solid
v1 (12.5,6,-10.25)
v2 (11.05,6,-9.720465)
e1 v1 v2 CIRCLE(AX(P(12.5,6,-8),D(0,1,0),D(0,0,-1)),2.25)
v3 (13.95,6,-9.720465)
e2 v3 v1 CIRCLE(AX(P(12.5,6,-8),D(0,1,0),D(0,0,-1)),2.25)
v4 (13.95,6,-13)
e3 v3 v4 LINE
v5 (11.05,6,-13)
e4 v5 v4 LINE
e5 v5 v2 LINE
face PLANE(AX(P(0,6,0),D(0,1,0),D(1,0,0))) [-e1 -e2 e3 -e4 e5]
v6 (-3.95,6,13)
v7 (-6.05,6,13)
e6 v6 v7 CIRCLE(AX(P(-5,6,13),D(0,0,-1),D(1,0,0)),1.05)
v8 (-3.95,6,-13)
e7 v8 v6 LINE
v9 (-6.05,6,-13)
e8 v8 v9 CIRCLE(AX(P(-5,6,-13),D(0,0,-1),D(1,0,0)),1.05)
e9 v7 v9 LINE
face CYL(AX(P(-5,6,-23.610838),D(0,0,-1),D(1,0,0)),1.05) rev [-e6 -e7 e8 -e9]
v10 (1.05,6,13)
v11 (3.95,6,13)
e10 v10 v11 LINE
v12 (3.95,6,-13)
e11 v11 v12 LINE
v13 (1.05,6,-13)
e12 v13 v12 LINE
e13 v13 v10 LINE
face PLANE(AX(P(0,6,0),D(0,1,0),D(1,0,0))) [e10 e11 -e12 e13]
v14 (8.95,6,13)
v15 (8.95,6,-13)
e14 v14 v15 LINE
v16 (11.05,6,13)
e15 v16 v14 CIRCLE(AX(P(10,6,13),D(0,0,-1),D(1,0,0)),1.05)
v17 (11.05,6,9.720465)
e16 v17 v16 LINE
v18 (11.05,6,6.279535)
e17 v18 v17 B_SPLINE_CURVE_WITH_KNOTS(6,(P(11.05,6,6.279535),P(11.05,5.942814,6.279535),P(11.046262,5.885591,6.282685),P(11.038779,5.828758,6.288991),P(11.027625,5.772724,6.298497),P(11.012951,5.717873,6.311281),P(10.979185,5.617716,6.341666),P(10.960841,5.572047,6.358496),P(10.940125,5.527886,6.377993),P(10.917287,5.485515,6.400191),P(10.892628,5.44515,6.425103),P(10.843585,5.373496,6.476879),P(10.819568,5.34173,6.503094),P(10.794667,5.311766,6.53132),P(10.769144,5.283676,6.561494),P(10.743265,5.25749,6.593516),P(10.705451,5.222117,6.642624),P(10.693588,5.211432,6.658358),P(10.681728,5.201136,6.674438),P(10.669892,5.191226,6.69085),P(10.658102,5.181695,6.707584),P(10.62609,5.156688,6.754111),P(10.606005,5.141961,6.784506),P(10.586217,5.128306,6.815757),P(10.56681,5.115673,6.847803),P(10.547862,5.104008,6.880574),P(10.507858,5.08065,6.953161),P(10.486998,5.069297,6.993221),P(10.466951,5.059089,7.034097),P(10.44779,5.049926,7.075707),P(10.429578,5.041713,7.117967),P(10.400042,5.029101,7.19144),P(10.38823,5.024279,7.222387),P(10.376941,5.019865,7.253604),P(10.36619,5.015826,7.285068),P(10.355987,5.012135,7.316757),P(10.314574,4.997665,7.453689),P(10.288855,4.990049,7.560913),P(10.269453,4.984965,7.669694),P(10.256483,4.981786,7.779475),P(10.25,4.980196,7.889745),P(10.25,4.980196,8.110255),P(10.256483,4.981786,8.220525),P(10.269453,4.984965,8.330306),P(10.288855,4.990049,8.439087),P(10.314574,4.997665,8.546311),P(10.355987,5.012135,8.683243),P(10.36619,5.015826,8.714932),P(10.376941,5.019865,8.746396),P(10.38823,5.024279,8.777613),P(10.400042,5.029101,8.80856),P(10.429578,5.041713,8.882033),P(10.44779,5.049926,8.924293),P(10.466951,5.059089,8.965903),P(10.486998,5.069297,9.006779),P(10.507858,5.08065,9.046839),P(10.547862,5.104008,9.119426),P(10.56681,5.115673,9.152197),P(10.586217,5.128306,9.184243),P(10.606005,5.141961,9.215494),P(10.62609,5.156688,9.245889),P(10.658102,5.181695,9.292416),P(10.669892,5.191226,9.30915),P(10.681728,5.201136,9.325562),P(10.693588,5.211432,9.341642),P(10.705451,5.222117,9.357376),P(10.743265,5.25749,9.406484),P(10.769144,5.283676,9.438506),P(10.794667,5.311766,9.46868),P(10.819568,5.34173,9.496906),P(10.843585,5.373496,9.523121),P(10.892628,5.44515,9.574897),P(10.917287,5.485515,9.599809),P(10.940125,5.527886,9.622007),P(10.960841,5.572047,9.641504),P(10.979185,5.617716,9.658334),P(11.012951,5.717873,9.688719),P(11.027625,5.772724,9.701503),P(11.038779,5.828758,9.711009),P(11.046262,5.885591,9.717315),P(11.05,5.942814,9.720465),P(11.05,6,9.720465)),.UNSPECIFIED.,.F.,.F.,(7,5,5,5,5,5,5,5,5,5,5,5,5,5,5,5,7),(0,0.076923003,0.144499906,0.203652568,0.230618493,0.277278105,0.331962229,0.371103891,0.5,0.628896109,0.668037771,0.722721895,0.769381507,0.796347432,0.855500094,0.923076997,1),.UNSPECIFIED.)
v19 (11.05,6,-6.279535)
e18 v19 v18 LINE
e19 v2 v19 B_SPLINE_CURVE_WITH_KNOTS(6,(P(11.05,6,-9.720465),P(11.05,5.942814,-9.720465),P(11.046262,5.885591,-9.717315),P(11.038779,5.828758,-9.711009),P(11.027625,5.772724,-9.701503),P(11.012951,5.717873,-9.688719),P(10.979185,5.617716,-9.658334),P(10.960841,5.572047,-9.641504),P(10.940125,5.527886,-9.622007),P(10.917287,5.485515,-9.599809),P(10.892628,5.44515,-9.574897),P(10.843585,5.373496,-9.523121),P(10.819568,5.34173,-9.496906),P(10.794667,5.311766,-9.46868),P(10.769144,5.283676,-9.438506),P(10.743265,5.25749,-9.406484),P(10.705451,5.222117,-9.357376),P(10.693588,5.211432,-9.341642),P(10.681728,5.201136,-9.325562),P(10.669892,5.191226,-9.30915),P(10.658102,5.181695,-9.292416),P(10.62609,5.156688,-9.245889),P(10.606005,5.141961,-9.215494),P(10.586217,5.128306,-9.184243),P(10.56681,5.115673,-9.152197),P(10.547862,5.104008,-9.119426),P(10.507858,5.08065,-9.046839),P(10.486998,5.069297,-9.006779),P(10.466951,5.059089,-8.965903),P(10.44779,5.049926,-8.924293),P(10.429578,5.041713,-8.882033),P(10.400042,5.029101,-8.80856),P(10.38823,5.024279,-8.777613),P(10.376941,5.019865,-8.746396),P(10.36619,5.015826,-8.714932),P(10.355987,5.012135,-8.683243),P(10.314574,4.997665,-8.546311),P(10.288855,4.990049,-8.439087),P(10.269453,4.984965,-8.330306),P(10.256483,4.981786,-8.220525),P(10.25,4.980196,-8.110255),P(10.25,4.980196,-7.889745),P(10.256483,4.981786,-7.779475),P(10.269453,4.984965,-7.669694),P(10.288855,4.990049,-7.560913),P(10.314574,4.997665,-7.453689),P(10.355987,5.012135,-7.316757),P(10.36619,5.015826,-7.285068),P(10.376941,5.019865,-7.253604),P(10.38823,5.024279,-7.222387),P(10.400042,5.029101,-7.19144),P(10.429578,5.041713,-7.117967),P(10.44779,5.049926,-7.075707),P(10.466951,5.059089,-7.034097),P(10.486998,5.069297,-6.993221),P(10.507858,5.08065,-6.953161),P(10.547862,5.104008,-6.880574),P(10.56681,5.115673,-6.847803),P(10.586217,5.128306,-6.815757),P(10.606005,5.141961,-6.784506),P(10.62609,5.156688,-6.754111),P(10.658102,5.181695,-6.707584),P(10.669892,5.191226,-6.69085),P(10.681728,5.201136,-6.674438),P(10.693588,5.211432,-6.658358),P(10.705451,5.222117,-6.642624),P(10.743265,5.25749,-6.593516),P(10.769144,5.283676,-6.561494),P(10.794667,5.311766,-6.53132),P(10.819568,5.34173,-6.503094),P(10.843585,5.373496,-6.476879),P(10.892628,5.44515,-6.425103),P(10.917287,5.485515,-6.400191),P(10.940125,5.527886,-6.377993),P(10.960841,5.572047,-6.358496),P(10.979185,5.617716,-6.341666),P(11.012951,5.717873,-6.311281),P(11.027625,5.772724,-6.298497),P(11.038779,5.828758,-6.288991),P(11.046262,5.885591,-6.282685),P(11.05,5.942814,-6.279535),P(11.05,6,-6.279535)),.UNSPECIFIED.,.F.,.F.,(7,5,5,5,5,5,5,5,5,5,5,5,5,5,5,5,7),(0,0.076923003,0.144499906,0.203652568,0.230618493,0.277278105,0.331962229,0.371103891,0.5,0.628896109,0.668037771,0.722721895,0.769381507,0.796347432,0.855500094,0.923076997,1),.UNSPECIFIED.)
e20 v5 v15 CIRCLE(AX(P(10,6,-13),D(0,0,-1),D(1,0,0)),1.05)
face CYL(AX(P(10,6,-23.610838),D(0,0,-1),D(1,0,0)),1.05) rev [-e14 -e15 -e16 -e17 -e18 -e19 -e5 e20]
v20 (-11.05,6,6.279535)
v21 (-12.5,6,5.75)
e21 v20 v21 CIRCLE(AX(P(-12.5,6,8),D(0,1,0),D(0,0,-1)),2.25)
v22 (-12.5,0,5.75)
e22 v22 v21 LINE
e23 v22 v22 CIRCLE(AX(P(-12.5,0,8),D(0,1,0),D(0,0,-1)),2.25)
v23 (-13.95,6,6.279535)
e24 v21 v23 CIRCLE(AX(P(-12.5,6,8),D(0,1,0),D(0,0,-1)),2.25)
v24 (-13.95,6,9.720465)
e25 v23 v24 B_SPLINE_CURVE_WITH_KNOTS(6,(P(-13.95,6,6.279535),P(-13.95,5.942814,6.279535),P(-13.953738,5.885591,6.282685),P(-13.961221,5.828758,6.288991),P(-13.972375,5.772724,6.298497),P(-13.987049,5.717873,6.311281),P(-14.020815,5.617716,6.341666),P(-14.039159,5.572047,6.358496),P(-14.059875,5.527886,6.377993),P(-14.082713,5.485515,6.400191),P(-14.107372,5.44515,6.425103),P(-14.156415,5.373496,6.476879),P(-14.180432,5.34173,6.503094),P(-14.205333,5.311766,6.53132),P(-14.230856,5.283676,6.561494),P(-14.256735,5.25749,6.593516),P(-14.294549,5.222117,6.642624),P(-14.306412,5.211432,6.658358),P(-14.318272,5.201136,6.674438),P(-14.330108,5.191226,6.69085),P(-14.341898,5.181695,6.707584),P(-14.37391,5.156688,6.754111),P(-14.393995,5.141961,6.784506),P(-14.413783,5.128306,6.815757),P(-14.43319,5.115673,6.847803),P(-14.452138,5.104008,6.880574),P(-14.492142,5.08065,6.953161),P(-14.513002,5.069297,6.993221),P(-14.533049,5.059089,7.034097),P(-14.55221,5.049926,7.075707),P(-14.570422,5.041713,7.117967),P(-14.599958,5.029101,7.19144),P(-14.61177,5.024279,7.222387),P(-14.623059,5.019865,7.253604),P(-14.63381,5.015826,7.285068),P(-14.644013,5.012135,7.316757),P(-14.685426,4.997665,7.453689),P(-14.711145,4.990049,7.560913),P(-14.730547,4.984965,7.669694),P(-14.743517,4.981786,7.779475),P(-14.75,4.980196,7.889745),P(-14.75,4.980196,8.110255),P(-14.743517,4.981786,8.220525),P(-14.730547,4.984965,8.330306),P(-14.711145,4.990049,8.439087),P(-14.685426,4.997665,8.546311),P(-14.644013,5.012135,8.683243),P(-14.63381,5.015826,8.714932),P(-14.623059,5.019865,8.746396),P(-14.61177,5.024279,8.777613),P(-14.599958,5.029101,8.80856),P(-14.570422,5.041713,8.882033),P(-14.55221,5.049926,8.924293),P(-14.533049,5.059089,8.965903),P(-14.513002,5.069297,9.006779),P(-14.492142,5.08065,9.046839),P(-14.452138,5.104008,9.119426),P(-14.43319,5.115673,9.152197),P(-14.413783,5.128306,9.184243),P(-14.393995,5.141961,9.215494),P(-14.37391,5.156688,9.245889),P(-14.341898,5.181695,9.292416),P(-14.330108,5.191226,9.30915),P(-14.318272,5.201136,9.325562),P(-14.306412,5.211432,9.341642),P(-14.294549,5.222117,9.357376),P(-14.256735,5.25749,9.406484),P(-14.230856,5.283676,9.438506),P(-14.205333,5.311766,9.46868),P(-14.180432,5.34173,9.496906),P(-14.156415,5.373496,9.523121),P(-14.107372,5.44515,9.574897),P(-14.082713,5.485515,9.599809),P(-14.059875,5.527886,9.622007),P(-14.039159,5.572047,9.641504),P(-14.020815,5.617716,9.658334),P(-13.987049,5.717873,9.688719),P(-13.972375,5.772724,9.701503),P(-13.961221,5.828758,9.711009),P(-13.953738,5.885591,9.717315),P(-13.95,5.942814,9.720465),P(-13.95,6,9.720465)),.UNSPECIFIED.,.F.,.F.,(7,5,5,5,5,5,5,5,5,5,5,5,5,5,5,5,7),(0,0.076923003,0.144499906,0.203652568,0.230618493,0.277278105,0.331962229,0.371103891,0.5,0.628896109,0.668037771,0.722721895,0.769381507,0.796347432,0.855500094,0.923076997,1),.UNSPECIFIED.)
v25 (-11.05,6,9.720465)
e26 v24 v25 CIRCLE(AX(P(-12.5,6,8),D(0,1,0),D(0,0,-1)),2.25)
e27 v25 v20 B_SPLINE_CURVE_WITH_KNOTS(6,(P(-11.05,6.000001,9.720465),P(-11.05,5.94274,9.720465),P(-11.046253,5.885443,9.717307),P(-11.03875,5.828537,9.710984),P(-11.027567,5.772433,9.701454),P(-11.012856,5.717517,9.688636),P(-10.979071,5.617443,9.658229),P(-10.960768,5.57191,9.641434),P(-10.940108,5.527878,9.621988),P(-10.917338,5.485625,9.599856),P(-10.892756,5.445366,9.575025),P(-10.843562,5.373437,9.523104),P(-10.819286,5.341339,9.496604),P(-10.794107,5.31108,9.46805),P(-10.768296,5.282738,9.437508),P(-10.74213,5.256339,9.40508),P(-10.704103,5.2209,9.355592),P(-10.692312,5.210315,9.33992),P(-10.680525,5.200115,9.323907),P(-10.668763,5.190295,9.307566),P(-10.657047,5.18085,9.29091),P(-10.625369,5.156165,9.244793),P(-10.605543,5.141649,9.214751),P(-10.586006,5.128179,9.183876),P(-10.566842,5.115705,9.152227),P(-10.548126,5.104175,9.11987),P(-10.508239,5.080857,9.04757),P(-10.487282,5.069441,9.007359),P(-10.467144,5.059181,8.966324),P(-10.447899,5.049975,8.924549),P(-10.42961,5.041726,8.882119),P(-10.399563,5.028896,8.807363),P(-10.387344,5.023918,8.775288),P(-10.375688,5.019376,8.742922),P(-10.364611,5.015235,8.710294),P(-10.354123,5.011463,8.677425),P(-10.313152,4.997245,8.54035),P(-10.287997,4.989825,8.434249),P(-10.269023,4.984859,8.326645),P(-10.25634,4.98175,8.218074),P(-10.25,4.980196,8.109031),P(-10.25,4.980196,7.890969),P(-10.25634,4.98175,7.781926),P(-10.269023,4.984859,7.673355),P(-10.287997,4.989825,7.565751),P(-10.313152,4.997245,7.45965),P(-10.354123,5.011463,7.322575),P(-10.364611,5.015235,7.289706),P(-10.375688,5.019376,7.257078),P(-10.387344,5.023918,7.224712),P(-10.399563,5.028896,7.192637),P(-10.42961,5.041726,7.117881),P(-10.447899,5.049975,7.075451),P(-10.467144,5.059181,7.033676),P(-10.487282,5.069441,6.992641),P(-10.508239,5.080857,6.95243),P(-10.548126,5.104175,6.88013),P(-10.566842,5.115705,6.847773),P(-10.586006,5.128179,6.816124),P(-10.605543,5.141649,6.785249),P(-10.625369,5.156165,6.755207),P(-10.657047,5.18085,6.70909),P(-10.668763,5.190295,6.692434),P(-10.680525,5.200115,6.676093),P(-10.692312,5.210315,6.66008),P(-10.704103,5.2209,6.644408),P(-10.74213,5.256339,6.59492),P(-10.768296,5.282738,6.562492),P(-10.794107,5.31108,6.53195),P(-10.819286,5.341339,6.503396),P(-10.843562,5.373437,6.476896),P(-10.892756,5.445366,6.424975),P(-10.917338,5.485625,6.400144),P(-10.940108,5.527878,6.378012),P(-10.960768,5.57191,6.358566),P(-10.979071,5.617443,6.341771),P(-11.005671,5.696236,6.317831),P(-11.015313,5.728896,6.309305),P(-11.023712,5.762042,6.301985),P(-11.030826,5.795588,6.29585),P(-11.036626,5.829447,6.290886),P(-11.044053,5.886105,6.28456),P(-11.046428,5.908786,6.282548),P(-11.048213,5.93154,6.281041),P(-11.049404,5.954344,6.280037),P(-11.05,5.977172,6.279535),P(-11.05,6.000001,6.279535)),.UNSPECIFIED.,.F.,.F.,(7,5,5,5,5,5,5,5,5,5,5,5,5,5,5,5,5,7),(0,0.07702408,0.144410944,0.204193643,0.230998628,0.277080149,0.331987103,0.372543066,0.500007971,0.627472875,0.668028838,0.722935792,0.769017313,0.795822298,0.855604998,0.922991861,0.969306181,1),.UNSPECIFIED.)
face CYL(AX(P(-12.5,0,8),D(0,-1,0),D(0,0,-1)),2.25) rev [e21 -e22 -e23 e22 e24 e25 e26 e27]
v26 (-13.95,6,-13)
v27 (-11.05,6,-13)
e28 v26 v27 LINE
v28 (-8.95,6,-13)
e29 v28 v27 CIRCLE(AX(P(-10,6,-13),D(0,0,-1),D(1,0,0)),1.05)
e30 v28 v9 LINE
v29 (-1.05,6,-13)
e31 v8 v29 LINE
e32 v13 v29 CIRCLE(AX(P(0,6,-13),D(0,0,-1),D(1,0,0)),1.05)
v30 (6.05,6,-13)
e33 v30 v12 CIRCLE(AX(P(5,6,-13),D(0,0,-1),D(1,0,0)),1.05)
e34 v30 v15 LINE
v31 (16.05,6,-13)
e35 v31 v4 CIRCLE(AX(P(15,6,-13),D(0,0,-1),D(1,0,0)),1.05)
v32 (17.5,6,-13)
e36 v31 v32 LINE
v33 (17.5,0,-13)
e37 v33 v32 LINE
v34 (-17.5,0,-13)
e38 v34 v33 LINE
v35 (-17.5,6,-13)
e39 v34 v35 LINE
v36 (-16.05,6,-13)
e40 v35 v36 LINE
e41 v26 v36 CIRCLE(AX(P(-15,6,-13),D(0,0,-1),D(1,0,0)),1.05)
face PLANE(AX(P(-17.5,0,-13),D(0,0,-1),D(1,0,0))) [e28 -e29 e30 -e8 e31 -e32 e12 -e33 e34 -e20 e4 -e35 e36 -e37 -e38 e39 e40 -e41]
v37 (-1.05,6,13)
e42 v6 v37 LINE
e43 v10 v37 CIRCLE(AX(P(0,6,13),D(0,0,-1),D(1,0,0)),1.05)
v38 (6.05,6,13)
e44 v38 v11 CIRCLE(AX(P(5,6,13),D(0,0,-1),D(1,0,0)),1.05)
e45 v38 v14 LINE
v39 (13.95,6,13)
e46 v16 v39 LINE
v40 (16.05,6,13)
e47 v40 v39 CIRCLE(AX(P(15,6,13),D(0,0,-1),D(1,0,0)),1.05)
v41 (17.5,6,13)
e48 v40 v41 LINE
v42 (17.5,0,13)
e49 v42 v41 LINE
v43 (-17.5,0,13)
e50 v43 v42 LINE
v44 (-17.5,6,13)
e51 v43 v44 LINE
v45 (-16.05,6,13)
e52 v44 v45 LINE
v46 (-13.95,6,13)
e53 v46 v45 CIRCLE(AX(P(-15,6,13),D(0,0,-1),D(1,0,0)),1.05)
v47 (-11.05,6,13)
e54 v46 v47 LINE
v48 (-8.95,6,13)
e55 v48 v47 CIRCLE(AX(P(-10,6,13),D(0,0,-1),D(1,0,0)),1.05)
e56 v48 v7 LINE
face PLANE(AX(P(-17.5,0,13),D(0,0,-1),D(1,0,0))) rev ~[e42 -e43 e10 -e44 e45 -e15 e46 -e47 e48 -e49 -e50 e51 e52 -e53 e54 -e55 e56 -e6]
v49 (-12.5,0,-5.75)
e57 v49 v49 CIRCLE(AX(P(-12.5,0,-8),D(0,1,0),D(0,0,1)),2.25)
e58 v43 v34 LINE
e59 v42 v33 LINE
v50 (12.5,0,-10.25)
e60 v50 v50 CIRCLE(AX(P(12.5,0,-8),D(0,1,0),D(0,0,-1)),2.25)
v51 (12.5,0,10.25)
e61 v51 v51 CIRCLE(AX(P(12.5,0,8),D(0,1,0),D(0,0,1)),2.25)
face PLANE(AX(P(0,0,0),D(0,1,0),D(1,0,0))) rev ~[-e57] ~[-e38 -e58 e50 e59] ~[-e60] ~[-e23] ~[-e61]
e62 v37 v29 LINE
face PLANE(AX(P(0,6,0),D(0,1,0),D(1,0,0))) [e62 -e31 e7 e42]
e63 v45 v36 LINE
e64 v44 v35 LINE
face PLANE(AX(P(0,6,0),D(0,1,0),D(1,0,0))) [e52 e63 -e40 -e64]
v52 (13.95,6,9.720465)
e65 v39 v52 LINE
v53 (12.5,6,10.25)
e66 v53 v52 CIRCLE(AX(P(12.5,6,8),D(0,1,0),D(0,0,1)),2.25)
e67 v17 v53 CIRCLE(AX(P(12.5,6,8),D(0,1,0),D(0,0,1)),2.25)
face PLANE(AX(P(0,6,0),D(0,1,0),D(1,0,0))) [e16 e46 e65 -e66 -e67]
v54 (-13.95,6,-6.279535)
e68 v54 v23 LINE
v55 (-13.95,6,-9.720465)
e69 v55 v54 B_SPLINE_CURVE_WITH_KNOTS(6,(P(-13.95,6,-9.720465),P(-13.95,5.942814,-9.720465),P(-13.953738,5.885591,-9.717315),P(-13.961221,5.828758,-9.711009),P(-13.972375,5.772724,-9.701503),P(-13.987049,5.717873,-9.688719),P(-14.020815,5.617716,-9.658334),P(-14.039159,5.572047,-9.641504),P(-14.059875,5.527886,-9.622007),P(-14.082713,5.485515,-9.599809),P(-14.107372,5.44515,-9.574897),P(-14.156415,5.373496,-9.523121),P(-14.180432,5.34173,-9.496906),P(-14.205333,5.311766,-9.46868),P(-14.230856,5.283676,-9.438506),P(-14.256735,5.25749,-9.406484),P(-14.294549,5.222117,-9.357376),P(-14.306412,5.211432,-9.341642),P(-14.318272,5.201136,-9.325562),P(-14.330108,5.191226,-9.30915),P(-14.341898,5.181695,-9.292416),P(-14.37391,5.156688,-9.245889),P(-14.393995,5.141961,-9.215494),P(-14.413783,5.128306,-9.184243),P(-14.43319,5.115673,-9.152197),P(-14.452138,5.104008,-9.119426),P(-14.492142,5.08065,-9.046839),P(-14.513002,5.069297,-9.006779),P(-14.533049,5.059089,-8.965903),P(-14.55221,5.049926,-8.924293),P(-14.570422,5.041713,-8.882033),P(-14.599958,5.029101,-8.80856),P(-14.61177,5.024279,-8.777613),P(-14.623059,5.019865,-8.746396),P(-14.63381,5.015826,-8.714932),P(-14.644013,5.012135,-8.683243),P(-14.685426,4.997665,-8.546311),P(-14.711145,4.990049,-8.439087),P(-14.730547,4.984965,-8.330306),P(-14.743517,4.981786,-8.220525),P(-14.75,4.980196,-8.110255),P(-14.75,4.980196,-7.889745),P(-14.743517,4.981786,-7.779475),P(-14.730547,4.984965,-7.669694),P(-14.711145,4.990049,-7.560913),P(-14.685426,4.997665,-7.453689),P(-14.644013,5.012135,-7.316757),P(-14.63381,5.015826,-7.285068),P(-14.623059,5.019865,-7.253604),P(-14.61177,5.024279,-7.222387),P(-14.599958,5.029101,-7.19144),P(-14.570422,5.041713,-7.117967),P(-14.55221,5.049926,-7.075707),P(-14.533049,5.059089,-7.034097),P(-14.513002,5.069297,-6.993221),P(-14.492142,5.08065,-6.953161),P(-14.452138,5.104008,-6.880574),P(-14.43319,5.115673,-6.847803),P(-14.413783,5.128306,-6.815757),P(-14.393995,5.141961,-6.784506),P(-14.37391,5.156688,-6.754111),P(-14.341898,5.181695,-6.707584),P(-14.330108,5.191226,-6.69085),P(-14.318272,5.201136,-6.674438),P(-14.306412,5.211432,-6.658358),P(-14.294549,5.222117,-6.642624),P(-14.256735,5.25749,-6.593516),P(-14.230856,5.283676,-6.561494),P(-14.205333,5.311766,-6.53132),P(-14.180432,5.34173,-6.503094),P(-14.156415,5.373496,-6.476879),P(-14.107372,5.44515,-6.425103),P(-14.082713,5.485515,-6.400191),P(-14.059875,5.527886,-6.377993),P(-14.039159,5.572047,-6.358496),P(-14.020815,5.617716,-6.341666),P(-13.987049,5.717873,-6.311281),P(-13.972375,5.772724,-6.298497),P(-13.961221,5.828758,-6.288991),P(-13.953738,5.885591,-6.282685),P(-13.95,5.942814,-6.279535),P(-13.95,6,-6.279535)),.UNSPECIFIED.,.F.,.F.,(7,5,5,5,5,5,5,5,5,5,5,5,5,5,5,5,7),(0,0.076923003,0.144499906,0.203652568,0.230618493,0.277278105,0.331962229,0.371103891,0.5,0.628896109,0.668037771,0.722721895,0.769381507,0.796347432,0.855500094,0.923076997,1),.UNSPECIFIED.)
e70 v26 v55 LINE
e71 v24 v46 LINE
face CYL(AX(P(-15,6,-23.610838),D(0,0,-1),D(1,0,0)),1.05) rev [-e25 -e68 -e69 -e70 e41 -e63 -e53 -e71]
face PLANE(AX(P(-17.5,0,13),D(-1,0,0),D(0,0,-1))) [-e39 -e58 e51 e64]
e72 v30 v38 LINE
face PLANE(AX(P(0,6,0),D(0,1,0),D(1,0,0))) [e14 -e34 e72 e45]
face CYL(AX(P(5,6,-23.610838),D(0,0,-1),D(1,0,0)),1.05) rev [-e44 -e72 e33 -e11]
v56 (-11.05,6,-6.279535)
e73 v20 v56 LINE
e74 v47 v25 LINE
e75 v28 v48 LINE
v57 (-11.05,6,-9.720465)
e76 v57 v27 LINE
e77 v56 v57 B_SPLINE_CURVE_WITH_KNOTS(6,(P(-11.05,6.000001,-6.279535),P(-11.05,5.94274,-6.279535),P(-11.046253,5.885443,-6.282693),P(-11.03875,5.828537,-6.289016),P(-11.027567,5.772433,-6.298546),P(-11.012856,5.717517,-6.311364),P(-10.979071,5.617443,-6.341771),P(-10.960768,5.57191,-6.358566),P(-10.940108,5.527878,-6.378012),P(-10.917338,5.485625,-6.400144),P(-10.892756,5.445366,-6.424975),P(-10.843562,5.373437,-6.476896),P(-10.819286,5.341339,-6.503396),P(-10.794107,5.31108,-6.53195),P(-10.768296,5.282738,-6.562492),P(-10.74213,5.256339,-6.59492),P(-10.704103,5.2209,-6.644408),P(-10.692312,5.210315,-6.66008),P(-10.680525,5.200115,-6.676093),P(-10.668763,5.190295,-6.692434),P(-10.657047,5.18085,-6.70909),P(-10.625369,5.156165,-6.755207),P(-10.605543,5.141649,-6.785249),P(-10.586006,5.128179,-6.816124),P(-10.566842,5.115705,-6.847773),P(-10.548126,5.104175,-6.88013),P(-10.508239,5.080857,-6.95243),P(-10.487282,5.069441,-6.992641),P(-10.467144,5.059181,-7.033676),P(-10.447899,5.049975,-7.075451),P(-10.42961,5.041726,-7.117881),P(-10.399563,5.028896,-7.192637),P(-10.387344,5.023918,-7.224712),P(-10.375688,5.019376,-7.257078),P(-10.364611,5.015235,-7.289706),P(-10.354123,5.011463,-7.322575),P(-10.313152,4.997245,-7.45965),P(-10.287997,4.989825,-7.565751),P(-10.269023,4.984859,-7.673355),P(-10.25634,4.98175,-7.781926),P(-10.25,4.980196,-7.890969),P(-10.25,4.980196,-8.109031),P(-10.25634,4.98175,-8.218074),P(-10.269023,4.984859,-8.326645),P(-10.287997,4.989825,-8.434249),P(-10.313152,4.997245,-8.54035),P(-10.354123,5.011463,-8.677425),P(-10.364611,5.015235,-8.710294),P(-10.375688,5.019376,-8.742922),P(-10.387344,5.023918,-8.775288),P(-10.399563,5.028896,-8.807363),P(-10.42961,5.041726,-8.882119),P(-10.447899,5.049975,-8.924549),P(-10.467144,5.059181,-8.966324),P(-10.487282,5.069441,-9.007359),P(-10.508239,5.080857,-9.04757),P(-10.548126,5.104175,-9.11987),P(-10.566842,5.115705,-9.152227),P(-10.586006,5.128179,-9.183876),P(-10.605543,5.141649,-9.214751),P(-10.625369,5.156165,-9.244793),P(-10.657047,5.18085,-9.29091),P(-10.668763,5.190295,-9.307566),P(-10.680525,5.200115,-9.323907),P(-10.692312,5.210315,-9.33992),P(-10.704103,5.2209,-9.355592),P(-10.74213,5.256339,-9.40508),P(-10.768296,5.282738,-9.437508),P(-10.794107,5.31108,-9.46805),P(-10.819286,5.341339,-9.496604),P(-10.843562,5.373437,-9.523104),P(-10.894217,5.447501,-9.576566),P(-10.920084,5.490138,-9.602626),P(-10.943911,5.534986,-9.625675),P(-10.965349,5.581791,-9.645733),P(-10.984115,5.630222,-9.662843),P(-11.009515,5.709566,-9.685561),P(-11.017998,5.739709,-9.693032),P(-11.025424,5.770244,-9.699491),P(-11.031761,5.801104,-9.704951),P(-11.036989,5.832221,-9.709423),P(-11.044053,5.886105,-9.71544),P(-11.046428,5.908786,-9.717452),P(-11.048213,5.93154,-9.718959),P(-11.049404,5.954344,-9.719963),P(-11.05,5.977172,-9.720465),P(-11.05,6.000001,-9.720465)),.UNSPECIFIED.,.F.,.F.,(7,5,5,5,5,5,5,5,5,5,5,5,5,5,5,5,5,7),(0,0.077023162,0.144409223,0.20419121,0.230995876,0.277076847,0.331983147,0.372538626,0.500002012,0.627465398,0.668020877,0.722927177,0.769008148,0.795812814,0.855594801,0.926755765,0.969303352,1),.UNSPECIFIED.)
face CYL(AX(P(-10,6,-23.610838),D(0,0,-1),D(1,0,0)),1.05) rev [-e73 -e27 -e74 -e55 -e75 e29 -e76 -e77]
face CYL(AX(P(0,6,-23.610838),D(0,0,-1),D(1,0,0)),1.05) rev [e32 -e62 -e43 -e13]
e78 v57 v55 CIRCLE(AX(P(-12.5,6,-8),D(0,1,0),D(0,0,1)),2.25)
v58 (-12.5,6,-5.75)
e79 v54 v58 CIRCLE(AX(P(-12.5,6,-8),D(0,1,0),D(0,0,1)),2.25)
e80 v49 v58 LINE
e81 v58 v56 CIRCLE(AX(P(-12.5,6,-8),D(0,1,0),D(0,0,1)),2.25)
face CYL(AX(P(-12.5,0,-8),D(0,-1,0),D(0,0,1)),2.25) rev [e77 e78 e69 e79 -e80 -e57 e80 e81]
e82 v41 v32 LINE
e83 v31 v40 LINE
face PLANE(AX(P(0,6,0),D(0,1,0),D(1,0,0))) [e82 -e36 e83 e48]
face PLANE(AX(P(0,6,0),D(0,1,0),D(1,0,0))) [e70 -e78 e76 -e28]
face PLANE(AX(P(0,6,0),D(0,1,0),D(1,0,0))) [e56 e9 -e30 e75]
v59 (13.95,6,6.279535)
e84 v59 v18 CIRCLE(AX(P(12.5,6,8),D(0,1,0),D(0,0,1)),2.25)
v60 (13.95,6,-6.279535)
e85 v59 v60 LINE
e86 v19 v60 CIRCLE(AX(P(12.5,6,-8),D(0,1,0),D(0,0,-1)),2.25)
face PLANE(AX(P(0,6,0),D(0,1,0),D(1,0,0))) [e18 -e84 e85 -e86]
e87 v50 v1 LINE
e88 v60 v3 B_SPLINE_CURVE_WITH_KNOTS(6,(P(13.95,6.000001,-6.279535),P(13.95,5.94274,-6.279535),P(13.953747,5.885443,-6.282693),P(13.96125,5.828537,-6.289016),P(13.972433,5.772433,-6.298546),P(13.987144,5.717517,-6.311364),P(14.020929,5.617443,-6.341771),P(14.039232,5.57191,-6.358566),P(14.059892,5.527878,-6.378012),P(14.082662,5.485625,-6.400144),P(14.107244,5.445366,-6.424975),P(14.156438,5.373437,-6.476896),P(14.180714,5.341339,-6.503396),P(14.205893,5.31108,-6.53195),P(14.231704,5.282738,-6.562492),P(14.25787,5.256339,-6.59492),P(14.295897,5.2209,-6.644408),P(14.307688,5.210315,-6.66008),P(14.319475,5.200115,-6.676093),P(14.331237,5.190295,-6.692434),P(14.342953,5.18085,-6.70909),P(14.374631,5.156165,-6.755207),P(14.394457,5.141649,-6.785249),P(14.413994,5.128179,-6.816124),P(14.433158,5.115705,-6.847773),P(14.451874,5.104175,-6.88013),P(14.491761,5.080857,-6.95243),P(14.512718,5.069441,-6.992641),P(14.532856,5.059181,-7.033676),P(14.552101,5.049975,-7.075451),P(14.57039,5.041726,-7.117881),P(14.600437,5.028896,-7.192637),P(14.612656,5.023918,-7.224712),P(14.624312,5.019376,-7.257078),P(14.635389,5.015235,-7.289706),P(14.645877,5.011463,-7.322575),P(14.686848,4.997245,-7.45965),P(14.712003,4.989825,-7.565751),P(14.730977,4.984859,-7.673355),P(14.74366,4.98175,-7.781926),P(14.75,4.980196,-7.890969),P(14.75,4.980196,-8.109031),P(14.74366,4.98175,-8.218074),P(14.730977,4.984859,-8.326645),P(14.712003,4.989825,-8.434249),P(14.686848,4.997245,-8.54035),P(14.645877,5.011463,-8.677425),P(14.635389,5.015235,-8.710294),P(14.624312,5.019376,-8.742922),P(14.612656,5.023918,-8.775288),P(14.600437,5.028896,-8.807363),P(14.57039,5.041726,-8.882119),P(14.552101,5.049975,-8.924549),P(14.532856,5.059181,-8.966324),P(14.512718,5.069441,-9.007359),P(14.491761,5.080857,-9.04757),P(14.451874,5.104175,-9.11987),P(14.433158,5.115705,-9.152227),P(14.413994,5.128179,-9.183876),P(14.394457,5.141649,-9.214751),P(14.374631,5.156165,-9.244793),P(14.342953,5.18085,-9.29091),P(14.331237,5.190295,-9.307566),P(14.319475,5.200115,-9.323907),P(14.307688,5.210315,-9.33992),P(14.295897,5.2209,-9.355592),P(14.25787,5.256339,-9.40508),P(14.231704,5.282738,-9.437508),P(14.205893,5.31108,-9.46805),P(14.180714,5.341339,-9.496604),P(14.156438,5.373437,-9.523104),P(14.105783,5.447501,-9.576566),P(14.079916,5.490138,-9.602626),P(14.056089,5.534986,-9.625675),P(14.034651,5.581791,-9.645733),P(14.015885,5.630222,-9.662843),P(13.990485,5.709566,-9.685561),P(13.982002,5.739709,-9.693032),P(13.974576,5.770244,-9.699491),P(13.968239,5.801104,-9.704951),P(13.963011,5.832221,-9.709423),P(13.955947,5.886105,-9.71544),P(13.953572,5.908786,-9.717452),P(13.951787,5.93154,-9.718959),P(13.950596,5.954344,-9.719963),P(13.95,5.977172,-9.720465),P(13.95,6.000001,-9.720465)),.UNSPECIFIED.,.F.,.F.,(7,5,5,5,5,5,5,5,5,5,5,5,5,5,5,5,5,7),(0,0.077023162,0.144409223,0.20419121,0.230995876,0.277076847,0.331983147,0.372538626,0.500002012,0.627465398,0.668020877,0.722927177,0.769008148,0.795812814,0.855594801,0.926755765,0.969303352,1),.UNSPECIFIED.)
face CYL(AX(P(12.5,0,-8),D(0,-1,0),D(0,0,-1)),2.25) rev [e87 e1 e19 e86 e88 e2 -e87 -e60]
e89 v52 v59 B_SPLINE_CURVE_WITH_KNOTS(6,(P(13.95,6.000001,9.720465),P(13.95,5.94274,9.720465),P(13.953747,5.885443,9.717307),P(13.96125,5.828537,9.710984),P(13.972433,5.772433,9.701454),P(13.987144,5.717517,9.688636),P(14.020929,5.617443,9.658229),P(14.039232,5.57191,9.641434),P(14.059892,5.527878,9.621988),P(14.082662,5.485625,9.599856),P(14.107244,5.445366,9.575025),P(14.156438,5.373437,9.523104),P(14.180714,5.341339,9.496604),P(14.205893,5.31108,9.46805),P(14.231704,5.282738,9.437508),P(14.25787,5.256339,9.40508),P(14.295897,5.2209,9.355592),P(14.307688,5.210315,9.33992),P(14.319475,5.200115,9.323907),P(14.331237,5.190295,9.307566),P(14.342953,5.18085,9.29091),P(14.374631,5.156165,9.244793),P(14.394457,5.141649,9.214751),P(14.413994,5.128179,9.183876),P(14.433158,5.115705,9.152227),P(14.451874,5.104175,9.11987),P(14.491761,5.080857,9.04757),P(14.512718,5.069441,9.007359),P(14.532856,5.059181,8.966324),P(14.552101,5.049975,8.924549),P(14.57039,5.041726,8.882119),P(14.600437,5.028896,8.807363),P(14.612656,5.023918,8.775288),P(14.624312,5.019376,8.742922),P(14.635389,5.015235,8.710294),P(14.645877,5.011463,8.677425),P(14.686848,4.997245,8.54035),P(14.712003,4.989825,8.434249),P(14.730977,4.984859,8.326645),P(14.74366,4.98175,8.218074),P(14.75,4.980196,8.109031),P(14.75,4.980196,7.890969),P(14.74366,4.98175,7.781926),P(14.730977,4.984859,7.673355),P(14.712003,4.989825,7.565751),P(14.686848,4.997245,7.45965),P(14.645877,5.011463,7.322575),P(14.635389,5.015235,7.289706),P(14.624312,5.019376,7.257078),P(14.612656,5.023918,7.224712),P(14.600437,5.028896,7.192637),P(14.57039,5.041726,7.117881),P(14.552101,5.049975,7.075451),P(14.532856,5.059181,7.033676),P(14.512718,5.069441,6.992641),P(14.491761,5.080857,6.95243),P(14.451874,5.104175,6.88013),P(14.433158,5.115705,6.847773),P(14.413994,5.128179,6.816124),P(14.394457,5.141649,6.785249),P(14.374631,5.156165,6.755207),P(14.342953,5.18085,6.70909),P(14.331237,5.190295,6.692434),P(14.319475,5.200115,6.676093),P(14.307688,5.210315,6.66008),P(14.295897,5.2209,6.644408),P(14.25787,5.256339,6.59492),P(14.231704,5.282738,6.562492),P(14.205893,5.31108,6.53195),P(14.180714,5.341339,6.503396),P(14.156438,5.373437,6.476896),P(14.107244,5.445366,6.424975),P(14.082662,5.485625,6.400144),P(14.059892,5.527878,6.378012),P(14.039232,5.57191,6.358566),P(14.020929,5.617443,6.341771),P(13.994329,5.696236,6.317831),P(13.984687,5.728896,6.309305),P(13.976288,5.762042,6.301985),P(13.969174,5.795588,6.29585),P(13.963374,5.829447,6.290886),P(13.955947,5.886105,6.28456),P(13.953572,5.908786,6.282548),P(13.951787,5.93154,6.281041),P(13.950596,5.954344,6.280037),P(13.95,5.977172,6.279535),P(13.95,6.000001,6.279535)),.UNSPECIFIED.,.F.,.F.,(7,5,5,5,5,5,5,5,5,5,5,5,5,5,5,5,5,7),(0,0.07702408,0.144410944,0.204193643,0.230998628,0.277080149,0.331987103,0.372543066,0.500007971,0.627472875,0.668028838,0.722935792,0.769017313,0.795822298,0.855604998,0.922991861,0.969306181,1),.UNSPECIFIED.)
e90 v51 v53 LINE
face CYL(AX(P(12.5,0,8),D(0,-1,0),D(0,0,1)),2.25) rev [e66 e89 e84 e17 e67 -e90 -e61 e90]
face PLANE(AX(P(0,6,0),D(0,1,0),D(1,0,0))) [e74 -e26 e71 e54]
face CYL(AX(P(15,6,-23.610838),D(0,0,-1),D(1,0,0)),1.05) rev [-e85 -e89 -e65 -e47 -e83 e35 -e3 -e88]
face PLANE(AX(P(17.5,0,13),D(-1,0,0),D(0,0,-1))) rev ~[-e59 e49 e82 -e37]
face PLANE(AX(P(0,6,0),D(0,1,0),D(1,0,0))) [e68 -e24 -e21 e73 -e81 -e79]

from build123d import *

# Parameters (mm, degrees)
SKETCH_1_W               = 35
SKETCH_1_H               = 26
SKETCH_1_R               = 2.25
EXTRUDE_1_DEPTH          = 6
CUT_EXTRUDE_1_DEPTH      = 23.610838109
CUT_EXTRUDE_1_DEPTH_BACK = 23.610838109
SKETCH_3_R               = 1.05


with BuildPart() as part:
    # 草图1 → 凸台-拉伸1 (new body)
    with BuildSketch(Plane(origin=(0, 0, 0), x_dir=(1, 0, 0), z_dir=(0, 1, 0))):
        Rectangle(SKETCH_1_W, SKETCH_1_H)
        with Locations(Location((-12.5, 8, 0), (0, 0, 270))):
            Circle(SKETCH_1_R, mode=Mode.SUBTRACT)
        with Locations(Location((12.5, 8, 0), (0, 0, 90))):
            Circle(SKETCH_1_R, mode=Mode.SUBTRACT)
        with Locations(Location((-12.5, -8, 0), (0, 0, 90))):
            Circle(SKETCH_1_R, mode=Mode.SUBTRACT)
        with Locations(Location((12.5, -8, 0), (0, 0, 270))):
            Circle(SKETCH_1_R, mode=Mode.SUBTRACT)
    extrude(amount=EXTRUDE_1_DEPTH)

    # 草图3 → 切除-拉伸1 (cut, two sides: drawn at the far end of the back side and taken through both)
    with BuildSketch(Plane.XY.offset(-CUT_EXTRUDE_1_DEPTH_BACK)):
        with Locations((0, 6)):
            Circle(SKETCH_3_R)
        with Locations((5, 6)):
            Circle(SKETCH_3_R)
        with Locations((10, 6)):
            Circle(SKETCH_3_R)
        with Locations((15, 6)):
            Circle(SKETCH_3_R)
        with Locations((-5, 6)):
            Circle(SKETCH_3_R)
        with Locations((-10, 6)):
            Circle(SKETCH_3_R)
        with Locations((-15, 6)):
            Circle(SKETCH_3_R)
    extrude(amount=CUT_EXTRUDE_1_DEPTH + CUT_EXTRUDE_1_DEPTH_BACK, mode=Mode.SUBTRACT)


solid = part.part
